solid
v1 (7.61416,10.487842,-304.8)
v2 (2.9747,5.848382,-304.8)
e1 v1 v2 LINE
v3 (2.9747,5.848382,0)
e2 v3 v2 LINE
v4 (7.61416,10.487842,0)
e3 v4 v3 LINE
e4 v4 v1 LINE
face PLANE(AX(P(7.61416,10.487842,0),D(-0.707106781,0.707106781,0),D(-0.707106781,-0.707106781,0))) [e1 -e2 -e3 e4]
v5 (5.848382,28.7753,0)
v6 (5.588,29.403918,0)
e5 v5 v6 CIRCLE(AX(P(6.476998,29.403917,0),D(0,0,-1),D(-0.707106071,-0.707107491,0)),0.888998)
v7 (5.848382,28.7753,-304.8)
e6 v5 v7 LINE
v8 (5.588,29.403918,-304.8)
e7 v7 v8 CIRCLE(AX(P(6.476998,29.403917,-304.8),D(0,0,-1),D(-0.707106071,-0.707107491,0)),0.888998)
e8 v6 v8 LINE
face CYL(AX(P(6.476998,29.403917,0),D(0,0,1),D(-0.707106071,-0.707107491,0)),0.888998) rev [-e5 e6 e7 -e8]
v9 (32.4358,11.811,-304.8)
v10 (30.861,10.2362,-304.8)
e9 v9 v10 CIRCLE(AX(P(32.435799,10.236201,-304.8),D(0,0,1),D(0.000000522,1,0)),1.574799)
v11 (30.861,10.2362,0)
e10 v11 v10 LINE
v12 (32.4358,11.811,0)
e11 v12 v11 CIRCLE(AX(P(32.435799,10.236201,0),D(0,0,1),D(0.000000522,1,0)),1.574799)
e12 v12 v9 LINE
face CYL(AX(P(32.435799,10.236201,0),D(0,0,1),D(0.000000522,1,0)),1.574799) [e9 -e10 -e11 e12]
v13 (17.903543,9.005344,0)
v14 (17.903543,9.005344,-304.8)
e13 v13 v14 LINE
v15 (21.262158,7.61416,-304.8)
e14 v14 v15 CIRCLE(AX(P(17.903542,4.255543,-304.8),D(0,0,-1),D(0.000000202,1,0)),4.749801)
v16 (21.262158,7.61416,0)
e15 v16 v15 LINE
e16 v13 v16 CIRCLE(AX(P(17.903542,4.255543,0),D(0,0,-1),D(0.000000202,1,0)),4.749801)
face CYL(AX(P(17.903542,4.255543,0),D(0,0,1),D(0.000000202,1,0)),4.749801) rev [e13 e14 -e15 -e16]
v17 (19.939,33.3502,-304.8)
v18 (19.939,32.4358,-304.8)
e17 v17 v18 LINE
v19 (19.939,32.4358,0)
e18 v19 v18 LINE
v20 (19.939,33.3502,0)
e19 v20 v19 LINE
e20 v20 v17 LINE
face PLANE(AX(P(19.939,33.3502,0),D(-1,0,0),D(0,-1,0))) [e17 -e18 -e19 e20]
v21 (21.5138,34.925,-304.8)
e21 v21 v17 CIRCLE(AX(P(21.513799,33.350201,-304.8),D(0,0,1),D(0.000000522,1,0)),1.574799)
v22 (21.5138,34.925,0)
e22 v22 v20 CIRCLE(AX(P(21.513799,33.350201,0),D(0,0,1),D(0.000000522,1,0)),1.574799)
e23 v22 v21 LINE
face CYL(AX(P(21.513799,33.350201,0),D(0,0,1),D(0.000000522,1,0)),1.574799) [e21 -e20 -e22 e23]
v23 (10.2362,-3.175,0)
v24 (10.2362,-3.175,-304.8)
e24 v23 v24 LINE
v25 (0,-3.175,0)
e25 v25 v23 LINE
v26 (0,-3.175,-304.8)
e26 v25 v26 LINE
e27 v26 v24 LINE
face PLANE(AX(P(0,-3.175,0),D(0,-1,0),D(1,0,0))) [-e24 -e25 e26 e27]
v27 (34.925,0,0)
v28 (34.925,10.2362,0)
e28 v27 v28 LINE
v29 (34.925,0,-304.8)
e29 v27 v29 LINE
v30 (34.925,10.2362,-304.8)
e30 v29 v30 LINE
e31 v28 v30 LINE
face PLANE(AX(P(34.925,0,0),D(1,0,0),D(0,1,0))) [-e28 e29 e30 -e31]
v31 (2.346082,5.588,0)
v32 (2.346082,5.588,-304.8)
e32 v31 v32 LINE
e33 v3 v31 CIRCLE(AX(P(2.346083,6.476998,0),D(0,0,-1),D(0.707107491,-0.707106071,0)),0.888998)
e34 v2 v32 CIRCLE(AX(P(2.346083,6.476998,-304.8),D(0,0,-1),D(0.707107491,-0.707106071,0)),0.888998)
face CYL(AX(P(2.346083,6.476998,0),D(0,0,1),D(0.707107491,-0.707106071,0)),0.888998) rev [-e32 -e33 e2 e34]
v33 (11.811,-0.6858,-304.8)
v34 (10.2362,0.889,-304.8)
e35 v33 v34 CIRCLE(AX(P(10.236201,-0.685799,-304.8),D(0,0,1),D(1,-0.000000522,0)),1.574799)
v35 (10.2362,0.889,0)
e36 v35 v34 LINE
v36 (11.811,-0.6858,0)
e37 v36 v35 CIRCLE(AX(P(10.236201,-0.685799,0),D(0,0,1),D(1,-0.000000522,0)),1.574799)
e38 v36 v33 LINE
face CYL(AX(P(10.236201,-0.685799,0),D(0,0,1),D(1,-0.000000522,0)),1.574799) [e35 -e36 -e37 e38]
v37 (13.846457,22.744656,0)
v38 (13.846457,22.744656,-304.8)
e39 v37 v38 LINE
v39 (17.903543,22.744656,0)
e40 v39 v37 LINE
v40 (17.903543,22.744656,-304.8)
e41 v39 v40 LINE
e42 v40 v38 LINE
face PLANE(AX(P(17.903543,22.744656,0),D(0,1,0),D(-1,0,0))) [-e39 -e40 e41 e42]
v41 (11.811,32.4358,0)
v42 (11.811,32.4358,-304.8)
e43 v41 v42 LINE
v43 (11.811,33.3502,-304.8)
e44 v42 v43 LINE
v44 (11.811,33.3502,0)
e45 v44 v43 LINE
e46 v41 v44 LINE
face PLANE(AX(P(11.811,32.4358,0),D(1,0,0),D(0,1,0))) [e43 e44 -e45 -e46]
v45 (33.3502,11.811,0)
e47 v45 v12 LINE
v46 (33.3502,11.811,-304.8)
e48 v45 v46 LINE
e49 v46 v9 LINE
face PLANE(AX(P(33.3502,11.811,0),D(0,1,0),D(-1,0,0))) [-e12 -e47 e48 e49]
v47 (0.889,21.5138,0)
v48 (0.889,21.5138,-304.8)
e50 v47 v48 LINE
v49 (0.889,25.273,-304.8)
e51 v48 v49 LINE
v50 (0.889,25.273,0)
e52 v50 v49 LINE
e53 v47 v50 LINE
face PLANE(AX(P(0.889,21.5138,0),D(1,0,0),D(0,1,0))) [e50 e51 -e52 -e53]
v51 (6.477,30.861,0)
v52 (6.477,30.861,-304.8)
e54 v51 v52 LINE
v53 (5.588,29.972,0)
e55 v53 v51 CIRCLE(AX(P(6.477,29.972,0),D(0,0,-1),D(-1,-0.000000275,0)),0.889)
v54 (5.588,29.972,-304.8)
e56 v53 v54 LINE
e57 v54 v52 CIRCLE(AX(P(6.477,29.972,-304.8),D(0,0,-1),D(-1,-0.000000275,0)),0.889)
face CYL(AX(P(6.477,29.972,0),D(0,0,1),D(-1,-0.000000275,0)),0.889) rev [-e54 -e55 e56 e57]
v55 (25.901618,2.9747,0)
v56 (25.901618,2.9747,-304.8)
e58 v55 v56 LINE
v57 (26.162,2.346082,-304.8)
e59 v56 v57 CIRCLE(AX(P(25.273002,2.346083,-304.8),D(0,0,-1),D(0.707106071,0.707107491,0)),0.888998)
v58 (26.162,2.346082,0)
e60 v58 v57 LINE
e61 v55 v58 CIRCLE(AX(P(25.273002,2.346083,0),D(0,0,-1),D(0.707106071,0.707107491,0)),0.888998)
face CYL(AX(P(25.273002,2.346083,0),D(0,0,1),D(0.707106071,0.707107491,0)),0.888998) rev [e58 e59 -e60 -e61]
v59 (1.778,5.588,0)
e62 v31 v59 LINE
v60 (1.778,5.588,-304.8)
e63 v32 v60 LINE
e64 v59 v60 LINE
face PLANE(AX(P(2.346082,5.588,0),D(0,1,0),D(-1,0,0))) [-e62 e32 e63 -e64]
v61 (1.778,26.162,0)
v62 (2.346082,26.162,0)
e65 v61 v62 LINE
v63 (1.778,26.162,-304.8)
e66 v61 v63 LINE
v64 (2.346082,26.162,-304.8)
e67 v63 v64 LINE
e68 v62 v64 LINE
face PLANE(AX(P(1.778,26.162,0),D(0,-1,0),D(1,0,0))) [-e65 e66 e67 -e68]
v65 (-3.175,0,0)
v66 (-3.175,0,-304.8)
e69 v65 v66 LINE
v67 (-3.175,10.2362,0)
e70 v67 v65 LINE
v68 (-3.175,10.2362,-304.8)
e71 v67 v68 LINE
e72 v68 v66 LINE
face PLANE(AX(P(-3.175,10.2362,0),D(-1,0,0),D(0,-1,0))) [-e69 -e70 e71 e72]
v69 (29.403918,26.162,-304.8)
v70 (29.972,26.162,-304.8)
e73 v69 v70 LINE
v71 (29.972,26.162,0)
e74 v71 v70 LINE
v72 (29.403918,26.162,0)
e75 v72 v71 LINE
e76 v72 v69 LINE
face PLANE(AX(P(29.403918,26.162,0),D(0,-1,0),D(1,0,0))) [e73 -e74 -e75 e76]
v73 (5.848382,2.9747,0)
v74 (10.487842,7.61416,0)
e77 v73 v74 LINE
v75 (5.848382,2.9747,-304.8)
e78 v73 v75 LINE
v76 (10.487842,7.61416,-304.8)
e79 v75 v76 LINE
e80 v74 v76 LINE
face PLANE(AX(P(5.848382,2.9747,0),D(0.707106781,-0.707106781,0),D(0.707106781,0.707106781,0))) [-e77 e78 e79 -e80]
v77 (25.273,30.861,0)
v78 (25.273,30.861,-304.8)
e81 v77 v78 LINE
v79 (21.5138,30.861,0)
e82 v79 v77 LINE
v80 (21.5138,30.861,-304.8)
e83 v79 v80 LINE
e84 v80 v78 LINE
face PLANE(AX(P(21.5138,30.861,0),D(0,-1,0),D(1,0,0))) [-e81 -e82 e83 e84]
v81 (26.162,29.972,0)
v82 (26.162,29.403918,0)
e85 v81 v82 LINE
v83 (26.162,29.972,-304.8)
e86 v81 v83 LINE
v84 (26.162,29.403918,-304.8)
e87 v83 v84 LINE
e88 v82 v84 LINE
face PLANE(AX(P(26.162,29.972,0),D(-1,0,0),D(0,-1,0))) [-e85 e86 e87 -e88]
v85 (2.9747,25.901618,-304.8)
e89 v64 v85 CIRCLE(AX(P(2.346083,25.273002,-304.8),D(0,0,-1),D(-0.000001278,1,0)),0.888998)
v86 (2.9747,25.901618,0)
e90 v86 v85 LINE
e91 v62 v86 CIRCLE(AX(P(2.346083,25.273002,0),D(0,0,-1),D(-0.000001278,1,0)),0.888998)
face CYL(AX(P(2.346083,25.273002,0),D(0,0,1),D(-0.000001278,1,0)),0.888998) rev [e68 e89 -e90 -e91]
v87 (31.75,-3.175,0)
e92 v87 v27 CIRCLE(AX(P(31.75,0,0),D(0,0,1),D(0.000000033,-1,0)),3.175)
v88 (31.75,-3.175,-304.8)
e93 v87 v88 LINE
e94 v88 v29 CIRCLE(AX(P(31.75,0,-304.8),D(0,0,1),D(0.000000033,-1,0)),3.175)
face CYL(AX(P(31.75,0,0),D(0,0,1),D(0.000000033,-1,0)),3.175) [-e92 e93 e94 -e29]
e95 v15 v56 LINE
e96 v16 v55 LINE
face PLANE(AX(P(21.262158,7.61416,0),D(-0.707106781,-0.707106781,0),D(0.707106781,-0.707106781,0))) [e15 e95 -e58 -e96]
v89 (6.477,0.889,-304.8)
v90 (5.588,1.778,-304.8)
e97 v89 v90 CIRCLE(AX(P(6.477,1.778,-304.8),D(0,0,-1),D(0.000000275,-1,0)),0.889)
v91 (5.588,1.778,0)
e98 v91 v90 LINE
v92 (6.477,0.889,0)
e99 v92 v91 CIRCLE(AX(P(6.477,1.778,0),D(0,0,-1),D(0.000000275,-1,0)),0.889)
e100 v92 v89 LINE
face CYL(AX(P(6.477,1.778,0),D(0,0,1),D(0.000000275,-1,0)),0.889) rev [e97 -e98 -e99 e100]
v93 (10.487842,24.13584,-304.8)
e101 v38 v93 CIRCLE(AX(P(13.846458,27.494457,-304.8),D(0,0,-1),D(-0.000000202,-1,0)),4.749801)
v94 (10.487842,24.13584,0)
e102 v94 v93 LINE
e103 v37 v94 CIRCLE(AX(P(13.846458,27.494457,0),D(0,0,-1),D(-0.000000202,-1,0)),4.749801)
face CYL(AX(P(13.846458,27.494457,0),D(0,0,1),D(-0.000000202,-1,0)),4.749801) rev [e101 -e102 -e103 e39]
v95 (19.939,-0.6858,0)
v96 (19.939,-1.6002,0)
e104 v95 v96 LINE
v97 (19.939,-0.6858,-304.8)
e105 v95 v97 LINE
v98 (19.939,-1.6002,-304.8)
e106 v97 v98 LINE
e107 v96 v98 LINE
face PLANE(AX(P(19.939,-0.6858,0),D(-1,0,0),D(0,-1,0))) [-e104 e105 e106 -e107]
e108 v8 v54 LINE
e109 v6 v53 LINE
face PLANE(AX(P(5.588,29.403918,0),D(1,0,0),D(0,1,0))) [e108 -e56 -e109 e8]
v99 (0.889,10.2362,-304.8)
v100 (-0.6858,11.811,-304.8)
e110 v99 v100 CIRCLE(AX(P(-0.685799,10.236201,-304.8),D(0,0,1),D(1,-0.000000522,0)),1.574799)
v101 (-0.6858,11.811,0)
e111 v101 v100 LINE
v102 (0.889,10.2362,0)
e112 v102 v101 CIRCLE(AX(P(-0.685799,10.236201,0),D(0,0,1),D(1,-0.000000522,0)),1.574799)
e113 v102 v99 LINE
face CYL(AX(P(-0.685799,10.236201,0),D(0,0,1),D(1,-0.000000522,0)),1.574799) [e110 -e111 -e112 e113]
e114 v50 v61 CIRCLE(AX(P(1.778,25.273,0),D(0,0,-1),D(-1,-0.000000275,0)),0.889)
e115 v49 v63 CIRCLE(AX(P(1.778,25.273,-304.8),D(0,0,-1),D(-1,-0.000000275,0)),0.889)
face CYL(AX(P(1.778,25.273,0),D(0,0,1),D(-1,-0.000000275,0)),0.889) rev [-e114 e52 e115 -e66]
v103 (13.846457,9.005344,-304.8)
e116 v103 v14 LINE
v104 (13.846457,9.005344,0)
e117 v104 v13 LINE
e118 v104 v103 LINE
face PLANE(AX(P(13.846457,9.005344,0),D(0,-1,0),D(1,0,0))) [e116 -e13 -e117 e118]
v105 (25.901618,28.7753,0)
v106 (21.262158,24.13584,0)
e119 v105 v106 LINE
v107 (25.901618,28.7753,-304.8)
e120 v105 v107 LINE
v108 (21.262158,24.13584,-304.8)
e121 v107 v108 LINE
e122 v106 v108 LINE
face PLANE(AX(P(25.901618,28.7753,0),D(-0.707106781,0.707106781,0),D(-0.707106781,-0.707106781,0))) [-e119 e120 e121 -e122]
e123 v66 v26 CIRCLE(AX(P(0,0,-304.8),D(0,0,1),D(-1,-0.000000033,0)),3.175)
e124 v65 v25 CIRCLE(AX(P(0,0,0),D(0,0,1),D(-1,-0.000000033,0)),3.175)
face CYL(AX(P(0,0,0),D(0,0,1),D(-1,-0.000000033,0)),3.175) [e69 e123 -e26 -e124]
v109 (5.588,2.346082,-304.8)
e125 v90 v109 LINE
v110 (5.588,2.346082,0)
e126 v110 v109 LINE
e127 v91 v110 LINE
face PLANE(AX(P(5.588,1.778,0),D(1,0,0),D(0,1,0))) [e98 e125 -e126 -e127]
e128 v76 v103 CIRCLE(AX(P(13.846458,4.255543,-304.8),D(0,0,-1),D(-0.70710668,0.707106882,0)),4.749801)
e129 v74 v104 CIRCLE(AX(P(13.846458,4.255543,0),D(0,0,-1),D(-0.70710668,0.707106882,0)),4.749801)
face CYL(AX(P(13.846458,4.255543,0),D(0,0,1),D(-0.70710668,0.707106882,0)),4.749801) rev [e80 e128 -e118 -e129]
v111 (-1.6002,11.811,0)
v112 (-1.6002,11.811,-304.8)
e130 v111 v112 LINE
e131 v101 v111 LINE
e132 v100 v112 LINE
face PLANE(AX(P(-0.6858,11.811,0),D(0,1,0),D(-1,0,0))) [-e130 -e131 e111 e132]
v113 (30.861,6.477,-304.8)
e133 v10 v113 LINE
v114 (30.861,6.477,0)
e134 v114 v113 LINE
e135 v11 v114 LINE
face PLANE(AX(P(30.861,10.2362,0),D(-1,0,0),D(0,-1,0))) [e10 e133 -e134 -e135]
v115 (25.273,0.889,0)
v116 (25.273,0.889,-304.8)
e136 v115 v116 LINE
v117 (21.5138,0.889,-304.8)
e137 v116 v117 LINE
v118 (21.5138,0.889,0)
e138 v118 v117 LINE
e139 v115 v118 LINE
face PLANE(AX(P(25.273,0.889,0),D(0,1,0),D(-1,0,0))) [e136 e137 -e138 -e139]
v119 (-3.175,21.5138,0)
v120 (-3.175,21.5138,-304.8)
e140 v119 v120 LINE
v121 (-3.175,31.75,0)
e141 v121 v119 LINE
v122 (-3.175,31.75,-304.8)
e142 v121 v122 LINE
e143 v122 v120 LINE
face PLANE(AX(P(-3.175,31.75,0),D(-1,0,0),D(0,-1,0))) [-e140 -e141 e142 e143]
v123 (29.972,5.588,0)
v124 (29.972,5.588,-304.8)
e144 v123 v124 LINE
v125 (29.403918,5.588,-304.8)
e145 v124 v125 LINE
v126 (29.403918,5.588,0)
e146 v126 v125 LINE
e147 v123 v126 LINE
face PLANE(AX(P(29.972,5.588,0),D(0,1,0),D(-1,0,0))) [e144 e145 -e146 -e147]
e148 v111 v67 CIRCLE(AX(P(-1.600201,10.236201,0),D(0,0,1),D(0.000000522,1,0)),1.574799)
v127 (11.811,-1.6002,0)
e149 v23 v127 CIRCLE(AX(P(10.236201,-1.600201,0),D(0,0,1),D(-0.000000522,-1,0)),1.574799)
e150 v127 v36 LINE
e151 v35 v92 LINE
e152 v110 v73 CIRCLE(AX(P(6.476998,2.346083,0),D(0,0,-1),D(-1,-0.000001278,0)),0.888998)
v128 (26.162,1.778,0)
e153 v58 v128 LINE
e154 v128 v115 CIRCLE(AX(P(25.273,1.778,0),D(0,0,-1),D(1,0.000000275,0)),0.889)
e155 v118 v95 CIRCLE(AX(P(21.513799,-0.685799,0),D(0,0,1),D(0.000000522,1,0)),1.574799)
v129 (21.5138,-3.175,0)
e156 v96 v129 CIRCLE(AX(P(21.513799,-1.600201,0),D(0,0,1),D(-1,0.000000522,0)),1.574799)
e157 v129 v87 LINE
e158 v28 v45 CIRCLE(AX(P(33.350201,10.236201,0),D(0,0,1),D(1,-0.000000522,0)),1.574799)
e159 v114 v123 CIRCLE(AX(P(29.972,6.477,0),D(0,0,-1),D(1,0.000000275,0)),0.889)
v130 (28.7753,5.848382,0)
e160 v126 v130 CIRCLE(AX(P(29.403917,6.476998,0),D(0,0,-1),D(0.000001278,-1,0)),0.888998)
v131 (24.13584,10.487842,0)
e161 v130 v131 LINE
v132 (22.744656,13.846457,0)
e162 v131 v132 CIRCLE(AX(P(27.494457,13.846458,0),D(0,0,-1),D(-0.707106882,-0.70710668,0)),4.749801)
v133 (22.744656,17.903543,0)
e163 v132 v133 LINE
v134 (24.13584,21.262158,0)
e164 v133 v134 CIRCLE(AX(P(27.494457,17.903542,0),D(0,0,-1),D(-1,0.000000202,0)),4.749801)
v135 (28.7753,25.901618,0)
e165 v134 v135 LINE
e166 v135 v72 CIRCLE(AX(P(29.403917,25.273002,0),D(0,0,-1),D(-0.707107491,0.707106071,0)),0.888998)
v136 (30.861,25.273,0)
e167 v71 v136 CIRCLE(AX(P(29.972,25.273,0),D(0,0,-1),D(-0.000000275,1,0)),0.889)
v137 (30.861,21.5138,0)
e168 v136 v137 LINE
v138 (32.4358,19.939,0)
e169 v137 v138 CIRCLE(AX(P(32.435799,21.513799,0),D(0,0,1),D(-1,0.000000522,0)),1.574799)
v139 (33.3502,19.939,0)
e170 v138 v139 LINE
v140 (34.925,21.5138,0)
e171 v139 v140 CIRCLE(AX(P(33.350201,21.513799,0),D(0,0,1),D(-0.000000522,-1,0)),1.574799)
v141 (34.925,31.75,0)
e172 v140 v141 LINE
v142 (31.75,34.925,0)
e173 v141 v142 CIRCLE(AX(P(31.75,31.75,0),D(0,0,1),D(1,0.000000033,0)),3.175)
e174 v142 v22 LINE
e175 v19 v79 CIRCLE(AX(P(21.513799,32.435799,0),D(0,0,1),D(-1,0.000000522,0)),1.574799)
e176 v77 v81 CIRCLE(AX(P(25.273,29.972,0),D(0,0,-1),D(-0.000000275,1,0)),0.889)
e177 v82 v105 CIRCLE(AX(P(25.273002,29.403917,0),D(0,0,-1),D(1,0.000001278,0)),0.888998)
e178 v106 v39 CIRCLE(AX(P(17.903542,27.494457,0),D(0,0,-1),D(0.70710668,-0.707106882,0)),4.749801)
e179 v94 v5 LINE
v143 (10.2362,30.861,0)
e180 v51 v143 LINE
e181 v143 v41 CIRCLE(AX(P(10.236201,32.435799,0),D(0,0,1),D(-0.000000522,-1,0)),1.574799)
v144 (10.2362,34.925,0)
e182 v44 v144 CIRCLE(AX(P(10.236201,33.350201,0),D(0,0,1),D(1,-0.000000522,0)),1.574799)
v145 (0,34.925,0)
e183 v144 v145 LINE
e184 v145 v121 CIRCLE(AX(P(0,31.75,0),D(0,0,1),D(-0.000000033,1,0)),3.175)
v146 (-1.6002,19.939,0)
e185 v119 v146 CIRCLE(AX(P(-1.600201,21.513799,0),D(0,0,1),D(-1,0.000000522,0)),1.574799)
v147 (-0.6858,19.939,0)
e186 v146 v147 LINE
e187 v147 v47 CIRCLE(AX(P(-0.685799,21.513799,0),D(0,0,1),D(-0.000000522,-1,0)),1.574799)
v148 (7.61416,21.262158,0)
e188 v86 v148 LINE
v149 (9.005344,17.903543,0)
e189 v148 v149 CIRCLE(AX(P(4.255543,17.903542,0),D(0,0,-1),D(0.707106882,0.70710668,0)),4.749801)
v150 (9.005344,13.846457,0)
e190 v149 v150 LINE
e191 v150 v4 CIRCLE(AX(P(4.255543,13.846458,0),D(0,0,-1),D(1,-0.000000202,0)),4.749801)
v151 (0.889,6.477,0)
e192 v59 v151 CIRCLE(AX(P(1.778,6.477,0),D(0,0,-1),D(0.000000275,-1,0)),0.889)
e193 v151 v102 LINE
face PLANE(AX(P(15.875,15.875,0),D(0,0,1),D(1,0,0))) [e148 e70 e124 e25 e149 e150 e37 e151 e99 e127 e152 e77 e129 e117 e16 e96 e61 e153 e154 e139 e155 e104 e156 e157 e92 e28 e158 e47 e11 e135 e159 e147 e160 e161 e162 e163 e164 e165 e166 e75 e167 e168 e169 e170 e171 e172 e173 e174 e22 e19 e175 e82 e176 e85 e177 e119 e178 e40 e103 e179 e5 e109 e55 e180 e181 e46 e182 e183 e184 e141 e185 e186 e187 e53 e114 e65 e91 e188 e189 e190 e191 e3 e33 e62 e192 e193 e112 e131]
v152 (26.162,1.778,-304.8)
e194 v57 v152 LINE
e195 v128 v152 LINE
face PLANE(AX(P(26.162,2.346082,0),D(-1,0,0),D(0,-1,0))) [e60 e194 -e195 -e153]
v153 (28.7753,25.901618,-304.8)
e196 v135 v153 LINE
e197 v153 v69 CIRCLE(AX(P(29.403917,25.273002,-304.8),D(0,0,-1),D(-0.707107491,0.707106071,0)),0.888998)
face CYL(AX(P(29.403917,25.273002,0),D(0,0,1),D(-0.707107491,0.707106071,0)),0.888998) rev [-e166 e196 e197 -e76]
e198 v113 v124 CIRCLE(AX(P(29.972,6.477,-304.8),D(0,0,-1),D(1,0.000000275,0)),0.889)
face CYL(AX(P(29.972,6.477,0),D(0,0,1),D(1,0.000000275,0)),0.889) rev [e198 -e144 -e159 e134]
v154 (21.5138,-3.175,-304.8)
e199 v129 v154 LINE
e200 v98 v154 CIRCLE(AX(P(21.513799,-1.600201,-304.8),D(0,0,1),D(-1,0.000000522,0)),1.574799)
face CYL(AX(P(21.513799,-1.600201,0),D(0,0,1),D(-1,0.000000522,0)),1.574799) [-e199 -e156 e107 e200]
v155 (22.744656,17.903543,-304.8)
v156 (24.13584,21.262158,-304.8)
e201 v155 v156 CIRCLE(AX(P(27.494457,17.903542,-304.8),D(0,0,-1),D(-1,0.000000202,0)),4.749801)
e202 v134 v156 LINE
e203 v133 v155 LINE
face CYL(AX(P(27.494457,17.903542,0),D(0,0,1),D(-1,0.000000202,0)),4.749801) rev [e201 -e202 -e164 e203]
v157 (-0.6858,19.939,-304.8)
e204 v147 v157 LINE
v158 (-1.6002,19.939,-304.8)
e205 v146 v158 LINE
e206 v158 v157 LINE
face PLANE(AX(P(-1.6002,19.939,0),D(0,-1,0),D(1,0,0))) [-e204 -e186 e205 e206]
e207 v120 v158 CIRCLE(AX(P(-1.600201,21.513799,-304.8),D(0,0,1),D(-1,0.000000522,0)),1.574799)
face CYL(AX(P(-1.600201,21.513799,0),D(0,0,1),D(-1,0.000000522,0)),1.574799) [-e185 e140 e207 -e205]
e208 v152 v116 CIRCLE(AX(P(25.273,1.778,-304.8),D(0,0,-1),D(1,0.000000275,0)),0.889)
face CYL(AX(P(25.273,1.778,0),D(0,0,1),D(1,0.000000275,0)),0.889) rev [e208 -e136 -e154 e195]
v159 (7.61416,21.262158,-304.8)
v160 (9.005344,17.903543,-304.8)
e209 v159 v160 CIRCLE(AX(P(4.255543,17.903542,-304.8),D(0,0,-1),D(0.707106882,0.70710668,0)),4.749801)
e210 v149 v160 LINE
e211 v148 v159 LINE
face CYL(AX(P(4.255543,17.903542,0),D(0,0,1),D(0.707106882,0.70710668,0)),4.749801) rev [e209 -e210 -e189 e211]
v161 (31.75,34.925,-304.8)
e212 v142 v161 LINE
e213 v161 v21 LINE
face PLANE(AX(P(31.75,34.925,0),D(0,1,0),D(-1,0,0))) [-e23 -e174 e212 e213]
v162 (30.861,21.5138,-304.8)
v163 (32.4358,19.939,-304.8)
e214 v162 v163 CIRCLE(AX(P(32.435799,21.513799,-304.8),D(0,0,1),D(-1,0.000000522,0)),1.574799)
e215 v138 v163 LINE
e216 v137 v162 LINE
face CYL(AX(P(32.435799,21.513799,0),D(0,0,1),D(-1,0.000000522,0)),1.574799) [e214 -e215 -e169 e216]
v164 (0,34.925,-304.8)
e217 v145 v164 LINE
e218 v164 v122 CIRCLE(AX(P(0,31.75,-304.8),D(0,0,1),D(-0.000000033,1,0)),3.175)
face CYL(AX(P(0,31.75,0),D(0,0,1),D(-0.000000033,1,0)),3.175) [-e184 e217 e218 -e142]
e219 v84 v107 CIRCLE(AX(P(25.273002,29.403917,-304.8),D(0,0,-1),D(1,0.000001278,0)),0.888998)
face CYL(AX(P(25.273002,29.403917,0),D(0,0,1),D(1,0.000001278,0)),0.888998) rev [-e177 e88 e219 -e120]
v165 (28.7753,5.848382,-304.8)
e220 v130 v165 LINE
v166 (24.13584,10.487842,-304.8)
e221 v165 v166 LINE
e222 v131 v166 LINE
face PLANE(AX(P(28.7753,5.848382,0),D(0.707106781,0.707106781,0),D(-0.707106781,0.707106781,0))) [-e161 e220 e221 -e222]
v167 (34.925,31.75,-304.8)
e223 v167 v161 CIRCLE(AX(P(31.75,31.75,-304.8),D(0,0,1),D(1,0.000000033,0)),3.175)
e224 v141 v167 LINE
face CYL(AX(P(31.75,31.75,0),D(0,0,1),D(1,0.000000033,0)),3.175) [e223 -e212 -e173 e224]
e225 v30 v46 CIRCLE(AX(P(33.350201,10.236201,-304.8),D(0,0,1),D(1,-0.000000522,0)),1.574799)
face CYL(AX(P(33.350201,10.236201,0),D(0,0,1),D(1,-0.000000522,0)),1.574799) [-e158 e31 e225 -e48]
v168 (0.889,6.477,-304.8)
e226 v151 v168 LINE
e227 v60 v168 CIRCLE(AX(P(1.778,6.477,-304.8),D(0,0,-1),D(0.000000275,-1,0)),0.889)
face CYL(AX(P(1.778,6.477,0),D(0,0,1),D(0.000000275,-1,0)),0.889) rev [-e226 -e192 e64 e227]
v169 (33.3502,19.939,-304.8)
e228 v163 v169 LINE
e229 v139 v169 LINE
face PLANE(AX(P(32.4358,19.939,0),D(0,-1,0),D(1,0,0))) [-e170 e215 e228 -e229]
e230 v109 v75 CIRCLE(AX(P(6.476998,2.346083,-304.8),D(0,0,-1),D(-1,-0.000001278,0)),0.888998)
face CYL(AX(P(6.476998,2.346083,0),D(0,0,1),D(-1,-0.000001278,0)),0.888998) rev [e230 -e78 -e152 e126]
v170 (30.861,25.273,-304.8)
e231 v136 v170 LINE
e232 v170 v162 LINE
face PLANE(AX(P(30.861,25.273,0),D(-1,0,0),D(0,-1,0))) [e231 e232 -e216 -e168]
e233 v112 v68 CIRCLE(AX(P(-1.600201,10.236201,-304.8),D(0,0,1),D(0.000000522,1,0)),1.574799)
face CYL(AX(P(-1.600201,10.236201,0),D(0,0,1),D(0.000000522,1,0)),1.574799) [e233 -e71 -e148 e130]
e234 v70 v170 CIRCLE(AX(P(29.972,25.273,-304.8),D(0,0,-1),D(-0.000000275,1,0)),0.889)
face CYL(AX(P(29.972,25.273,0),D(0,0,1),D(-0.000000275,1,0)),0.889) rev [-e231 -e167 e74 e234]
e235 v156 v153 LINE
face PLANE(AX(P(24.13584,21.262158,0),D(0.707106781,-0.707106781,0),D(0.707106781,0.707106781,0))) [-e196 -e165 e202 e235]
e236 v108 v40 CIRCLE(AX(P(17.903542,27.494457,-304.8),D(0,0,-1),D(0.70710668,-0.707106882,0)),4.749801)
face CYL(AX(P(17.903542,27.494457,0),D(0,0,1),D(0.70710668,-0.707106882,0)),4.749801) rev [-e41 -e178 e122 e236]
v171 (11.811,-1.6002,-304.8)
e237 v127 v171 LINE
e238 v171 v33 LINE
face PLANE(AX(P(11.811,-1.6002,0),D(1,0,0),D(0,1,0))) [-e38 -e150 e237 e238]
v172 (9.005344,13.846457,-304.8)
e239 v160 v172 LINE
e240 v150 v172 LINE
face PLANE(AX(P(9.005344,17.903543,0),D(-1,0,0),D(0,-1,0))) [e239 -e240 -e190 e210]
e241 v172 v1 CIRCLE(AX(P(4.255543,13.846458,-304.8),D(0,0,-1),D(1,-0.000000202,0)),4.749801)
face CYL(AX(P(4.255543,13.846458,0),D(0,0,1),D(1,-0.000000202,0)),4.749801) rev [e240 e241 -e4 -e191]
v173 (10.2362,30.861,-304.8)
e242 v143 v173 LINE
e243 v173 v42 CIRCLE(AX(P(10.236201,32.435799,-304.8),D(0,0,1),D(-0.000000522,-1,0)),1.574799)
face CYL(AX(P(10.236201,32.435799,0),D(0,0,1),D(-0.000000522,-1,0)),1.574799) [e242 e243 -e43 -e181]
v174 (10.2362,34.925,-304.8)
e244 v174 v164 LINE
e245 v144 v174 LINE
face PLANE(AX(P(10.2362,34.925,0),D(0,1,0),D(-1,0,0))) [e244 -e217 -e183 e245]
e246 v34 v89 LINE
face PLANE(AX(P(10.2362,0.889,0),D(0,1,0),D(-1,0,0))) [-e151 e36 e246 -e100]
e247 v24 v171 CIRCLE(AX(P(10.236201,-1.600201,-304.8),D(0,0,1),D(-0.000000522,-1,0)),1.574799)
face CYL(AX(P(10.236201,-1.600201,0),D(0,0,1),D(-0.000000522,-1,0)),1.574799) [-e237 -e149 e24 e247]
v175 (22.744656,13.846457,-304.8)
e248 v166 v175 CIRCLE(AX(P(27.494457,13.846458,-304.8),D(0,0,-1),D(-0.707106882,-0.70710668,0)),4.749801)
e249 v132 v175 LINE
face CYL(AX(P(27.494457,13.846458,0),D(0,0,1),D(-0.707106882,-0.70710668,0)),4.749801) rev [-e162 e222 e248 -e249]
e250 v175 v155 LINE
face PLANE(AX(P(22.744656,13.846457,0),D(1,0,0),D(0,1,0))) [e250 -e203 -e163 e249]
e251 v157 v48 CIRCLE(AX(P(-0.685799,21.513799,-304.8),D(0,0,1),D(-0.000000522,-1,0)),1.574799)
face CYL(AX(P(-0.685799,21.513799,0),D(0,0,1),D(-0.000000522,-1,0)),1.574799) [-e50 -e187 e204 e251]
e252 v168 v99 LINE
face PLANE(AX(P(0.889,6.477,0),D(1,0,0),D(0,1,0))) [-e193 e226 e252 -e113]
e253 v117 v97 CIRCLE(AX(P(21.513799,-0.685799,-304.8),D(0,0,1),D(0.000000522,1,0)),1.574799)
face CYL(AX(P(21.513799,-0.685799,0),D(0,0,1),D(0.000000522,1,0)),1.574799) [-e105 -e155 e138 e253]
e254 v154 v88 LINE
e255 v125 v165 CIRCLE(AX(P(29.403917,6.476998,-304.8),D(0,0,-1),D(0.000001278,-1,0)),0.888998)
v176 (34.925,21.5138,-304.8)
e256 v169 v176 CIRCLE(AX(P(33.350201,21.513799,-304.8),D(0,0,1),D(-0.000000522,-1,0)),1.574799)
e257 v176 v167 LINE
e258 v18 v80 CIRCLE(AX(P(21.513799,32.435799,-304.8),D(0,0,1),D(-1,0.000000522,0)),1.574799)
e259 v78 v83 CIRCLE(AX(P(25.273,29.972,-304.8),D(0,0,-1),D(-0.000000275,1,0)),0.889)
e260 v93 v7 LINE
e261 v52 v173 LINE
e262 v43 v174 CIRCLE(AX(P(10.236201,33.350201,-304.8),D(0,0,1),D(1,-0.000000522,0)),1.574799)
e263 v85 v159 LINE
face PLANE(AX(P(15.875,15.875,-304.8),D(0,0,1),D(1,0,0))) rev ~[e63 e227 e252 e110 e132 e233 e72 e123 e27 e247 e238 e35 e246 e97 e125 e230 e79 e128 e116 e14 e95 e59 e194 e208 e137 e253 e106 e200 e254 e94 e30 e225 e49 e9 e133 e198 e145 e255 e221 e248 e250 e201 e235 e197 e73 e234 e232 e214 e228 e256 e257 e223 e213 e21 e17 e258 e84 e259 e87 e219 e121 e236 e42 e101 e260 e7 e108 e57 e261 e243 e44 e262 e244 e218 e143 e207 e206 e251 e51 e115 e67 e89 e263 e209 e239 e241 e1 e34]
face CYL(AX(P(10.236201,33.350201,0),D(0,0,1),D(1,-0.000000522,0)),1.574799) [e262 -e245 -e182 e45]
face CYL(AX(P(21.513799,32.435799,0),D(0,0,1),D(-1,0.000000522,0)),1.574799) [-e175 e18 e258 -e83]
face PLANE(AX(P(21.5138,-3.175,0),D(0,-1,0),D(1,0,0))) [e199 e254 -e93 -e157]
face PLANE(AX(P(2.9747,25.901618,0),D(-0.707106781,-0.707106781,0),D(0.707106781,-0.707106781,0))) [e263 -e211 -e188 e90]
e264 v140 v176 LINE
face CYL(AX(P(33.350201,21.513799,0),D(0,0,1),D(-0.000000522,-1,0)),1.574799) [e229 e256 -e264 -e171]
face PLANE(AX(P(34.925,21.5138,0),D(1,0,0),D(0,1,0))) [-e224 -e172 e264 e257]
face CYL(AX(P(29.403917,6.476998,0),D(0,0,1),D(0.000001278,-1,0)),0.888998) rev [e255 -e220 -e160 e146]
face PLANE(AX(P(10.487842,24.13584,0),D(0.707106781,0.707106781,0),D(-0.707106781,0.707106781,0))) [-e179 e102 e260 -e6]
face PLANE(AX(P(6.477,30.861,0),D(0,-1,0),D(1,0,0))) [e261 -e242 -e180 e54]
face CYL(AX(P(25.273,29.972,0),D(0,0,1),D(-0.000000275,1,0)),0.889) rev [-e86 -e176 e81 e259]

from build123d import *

# Parameters (mm, degrees)
F1_DEPTH = 304.8


with BuildPart() as f1:
    # F0 (on Top) → F1 (new body)
    with BuildSketch(Plane.XY):
        with BuildLine():
            ThreePointArc((0, 34.925), (-2.245064, 33.995064), (-3.175, 31.75))
            Line((-3.175, 31.75), (-3.175, 21.5138))
            ThreePointArc((-3.175, 21.5138), (-2.713752, 20.400248), (-1.6002, 19.939))
            Line((-1.6002, 19.939), (-0.6858, 19.939))
            ThreePointArc((-0.6858, 19.939), (0.427752, 20.400248), (0.889, 21.5138))
            Line((0.889, 21.5138), (0.889, 25.273))
            ThreePointArc((0.889, 25.273), (1.149382, 25.901618), (1.778, 26.162))
            Line((1.778, 26.162), (2.346082, 26.162))
            ThreePointArc((2.346082, 26.162), (2.686288, 26.094329), (2.9747, 25.901618))
            Line((2.9747, 25.901618), (7.61416, 21.262158))
            ThreePointArc((7.61416, 21.262158), (8.643787, 19.721212), (9.005344, 17.903543))
            Line((9.005344, 17.903543), (9.005344, 13.846457))
            ThreePointArc((9.005344, 13.846457), (8.643787, 12.028788), (7.61416, 10.487842))
            Line((7.61416, 10.487842), (2.9747, 5.848382))
            ThreePointArc((2.9747, 5.848382), (2.686288, 5.655671), (2.346082, 5.588))
            Line((2.346082, 5.588), (1.778, 5.588))
            ThreePointArc((1.778, 5.588), (1.149382, 5.848382), (0.889, 6.477))
            Line((0.889, 6.477), (0.889, 10.2362))
            ThreePointArc((0.889, 10.2362), (0.427752, 11.349752), (-0.6858, 11.811))
            Line((-0.6858, 11.811), (-1.6002, 11.811))
            ThreePointArc((-1.6002, 11.811), (-2.713752, 11.349752), (-3.175, 10.2362))
            Line((-3.175, 10.2362), (-3.175, 0))
            ThreePointArc((-3.175, 0), (-2.245064, -2.245064), (0, -3.175))
            Line((0, -3.175), (10.2362, -3.175))
            ThreePointArc((10.2362, -3.175), (11.349752, -2.713752), (11.811, -1.6002))
            Line((11.811, -1.6002), (11.811, -0.6858))
            ThreePointArc((11.811, -0.6858), (11.349752, 0.427752), (10.2362, 0.889))
            Line((10.2362, 0.889), (6.477, 0.889))
            ThreePointArc((6.477, 0.889), (5.848382, 1.149382), (5.588, 1.778))
            Line((5.588, 1.778), (5.588, 2.346082))
            ThreePointArc((5.588, 2.346082), (5.655671, 2.686288), (5.848382, 2.9747))
            Line((5.848382, 2.9747), (10.487842, 7.61416))
            ThreePointArc((10.487842, 7.61416), (12.028788, 8.643787), (13.846457, 9.005344))
            Line((13.846457, 9.005344), (17.903543, 9.005344))
            ThreePointArc((17.903543, 9.005344), (19.721212, 8.643787), (21.262158, 7.61416))
            Line((21.262158, 7.61416), (25.901618, 2.9747))
            ThreePointArc((25.901618, 2.9747), (26.094329, 2.686288), (26.162, 2.346082))
            Line((26.162, 2.346082), (26.162, 1.778))
            ThreePointArc((26.162, 1.778), (25.901618, 1.149382), (25.273, 0.889))
            Line((25.273, 0.889), (21.5138, 0.889))
            ThreePointArc((21.5138, 0.889), (20.400248, 0.427752), (19.939, -0.6858))
            Line((19.939, -0.6858), (19.939, -1.6002))
            ThreePointArc((19.939, -1.6002), (20.400248, -2.713752), (21.5138, -3.175))
            Line((21.5138, -3.175), (31.75, -3.175))
            ThreePointArc((31.75, -3.175), (33.995064, -2.245064), (34.925, 0))
            Line((34.925, 0), (34.925, 10.2362))
            ThreePointArc((34.925, 10.2362), (34.463752, 11.349752), (33.3502, 11.811))
            Line((33.3502, 11.811), (32.4358, 11.811))
            ThreePointArc((32.4358, 11.811), (31.322248, 11.349752), (30.861, 10.2362))
            Line((30.861, 10.2362), (30.861, 6.477))
            ThreePointArc((30.861, 6.477), (30.600618, 5.848382), (29.972, 5.588))
            Line((29.972, 5.588), (29.403918, 5.588))
            ThreePointArc((29.403918, 5.588), (29.063712, 5.655671), (28.7753, 5.848382))
            Line((28.7753, 5.848382), (24.13584, 10.487842))
            ThreePointArc((24.13584, 10.487842), (23.106213, 12.028788), (22.744656, 13.846457))
            Line((22.744656, 13.846457), (22.744656, 17.903543))
            ThreePointArc((22.744656, 17.903543), (23.106213, 19.721212), (24.13584, 21.262158))
            Line((24.13584, 21.262158), (28.7753, 25.901618))
            ThreePointArc((28.7753, 25.901618), (29.063712, 26.094329), (29.403918, 26.162))
            Line((29.403918, 26.162), (29.972, 26.162))
            ThreePointArc((29.972, 26.162), (30.600618, 25.901618), (30.861, 25.273))
            Line((30.861, 25.273), (30.861, 21.5138))
            ThreePointArc((30.861, 21.5138), (31.322248, 20.400248), (32.4358, 19.939))
            Line((32.4358, 19.939), (33.3502, 19.939))
            ThreePointArc((33.3502, 19.939), (34.463752, 20.400248), (34.925, 21.5138))
            Line((34.925, 21.5138), (34.925, 31.75))
            ThreePointArc((34.925, 31.75), (33.995064, 33.995064), (31.75, 34.925))
            Line((31.75, 34.925), (21.5138, 34.925))
            ThreePointArc((21.5138, 34.925), (20.400248, 34.463752), (19.939, 33.3502))
            Line((19.939, 33.3502), (19.939, 32.4358))
            ThreePointArc((19.939, 32.4358), (20.400248, 31.322248), (21.5138, 30.861))
            Line((21.5138, 30.861), (25.273, 30.861))
            ThreePointArc((25.273, 30.861), (25.901618, 30.600618), (26.162, 29.972))
            Line((26.162, 29.972), (26.162, 29.403918))
            ThreePointArc((26.162, 29.403918), (26.094329, 29.063712), (25.901618, 28.7753))
            Line((25.901618, 28.7753), (21.262158, 24.13584))
            ThreePointArc((21.262158, 24.13584), (19.721212, 23.106213), (17.903543, 22.744656))
            Line((17.903543, 22.744656), (13.846457, 22.744656))
            ThreePointArc((13.846457, 22.744656), (12.028788, 23.106213), (10.487842, 24.13584))
            Line((10.487842, 24.13584), (5.848382, 28.7753))
            ThreePointArc((5.848382, 28.7753), (5.655671, 29.063712), (5.588, 29.403918))
            Line((5.588, 29.403918), (5.588, 29.972))
            ThreePointArc((5.588, 29.972), (5.848382, 30.600618), (6.477, 30.861))
            Line((6.477, 30.861), (10.2362, 30.861))
            ThreePointArc((10.2362, 30.861), (11.349752, 31.322248), (11.811, 32.4358))
            Line((11.811, 32.4358), (11.811, 33.3502))
            ThreePointArc((11.811, 33.3502), (11.349752, 34.463752), (10.2362, 34.925))
            Line((10.2362, 34.925), (0, 34.925))
        make_face()
    extrude(amount=-F1_DEPTH)


solid = f1.part
